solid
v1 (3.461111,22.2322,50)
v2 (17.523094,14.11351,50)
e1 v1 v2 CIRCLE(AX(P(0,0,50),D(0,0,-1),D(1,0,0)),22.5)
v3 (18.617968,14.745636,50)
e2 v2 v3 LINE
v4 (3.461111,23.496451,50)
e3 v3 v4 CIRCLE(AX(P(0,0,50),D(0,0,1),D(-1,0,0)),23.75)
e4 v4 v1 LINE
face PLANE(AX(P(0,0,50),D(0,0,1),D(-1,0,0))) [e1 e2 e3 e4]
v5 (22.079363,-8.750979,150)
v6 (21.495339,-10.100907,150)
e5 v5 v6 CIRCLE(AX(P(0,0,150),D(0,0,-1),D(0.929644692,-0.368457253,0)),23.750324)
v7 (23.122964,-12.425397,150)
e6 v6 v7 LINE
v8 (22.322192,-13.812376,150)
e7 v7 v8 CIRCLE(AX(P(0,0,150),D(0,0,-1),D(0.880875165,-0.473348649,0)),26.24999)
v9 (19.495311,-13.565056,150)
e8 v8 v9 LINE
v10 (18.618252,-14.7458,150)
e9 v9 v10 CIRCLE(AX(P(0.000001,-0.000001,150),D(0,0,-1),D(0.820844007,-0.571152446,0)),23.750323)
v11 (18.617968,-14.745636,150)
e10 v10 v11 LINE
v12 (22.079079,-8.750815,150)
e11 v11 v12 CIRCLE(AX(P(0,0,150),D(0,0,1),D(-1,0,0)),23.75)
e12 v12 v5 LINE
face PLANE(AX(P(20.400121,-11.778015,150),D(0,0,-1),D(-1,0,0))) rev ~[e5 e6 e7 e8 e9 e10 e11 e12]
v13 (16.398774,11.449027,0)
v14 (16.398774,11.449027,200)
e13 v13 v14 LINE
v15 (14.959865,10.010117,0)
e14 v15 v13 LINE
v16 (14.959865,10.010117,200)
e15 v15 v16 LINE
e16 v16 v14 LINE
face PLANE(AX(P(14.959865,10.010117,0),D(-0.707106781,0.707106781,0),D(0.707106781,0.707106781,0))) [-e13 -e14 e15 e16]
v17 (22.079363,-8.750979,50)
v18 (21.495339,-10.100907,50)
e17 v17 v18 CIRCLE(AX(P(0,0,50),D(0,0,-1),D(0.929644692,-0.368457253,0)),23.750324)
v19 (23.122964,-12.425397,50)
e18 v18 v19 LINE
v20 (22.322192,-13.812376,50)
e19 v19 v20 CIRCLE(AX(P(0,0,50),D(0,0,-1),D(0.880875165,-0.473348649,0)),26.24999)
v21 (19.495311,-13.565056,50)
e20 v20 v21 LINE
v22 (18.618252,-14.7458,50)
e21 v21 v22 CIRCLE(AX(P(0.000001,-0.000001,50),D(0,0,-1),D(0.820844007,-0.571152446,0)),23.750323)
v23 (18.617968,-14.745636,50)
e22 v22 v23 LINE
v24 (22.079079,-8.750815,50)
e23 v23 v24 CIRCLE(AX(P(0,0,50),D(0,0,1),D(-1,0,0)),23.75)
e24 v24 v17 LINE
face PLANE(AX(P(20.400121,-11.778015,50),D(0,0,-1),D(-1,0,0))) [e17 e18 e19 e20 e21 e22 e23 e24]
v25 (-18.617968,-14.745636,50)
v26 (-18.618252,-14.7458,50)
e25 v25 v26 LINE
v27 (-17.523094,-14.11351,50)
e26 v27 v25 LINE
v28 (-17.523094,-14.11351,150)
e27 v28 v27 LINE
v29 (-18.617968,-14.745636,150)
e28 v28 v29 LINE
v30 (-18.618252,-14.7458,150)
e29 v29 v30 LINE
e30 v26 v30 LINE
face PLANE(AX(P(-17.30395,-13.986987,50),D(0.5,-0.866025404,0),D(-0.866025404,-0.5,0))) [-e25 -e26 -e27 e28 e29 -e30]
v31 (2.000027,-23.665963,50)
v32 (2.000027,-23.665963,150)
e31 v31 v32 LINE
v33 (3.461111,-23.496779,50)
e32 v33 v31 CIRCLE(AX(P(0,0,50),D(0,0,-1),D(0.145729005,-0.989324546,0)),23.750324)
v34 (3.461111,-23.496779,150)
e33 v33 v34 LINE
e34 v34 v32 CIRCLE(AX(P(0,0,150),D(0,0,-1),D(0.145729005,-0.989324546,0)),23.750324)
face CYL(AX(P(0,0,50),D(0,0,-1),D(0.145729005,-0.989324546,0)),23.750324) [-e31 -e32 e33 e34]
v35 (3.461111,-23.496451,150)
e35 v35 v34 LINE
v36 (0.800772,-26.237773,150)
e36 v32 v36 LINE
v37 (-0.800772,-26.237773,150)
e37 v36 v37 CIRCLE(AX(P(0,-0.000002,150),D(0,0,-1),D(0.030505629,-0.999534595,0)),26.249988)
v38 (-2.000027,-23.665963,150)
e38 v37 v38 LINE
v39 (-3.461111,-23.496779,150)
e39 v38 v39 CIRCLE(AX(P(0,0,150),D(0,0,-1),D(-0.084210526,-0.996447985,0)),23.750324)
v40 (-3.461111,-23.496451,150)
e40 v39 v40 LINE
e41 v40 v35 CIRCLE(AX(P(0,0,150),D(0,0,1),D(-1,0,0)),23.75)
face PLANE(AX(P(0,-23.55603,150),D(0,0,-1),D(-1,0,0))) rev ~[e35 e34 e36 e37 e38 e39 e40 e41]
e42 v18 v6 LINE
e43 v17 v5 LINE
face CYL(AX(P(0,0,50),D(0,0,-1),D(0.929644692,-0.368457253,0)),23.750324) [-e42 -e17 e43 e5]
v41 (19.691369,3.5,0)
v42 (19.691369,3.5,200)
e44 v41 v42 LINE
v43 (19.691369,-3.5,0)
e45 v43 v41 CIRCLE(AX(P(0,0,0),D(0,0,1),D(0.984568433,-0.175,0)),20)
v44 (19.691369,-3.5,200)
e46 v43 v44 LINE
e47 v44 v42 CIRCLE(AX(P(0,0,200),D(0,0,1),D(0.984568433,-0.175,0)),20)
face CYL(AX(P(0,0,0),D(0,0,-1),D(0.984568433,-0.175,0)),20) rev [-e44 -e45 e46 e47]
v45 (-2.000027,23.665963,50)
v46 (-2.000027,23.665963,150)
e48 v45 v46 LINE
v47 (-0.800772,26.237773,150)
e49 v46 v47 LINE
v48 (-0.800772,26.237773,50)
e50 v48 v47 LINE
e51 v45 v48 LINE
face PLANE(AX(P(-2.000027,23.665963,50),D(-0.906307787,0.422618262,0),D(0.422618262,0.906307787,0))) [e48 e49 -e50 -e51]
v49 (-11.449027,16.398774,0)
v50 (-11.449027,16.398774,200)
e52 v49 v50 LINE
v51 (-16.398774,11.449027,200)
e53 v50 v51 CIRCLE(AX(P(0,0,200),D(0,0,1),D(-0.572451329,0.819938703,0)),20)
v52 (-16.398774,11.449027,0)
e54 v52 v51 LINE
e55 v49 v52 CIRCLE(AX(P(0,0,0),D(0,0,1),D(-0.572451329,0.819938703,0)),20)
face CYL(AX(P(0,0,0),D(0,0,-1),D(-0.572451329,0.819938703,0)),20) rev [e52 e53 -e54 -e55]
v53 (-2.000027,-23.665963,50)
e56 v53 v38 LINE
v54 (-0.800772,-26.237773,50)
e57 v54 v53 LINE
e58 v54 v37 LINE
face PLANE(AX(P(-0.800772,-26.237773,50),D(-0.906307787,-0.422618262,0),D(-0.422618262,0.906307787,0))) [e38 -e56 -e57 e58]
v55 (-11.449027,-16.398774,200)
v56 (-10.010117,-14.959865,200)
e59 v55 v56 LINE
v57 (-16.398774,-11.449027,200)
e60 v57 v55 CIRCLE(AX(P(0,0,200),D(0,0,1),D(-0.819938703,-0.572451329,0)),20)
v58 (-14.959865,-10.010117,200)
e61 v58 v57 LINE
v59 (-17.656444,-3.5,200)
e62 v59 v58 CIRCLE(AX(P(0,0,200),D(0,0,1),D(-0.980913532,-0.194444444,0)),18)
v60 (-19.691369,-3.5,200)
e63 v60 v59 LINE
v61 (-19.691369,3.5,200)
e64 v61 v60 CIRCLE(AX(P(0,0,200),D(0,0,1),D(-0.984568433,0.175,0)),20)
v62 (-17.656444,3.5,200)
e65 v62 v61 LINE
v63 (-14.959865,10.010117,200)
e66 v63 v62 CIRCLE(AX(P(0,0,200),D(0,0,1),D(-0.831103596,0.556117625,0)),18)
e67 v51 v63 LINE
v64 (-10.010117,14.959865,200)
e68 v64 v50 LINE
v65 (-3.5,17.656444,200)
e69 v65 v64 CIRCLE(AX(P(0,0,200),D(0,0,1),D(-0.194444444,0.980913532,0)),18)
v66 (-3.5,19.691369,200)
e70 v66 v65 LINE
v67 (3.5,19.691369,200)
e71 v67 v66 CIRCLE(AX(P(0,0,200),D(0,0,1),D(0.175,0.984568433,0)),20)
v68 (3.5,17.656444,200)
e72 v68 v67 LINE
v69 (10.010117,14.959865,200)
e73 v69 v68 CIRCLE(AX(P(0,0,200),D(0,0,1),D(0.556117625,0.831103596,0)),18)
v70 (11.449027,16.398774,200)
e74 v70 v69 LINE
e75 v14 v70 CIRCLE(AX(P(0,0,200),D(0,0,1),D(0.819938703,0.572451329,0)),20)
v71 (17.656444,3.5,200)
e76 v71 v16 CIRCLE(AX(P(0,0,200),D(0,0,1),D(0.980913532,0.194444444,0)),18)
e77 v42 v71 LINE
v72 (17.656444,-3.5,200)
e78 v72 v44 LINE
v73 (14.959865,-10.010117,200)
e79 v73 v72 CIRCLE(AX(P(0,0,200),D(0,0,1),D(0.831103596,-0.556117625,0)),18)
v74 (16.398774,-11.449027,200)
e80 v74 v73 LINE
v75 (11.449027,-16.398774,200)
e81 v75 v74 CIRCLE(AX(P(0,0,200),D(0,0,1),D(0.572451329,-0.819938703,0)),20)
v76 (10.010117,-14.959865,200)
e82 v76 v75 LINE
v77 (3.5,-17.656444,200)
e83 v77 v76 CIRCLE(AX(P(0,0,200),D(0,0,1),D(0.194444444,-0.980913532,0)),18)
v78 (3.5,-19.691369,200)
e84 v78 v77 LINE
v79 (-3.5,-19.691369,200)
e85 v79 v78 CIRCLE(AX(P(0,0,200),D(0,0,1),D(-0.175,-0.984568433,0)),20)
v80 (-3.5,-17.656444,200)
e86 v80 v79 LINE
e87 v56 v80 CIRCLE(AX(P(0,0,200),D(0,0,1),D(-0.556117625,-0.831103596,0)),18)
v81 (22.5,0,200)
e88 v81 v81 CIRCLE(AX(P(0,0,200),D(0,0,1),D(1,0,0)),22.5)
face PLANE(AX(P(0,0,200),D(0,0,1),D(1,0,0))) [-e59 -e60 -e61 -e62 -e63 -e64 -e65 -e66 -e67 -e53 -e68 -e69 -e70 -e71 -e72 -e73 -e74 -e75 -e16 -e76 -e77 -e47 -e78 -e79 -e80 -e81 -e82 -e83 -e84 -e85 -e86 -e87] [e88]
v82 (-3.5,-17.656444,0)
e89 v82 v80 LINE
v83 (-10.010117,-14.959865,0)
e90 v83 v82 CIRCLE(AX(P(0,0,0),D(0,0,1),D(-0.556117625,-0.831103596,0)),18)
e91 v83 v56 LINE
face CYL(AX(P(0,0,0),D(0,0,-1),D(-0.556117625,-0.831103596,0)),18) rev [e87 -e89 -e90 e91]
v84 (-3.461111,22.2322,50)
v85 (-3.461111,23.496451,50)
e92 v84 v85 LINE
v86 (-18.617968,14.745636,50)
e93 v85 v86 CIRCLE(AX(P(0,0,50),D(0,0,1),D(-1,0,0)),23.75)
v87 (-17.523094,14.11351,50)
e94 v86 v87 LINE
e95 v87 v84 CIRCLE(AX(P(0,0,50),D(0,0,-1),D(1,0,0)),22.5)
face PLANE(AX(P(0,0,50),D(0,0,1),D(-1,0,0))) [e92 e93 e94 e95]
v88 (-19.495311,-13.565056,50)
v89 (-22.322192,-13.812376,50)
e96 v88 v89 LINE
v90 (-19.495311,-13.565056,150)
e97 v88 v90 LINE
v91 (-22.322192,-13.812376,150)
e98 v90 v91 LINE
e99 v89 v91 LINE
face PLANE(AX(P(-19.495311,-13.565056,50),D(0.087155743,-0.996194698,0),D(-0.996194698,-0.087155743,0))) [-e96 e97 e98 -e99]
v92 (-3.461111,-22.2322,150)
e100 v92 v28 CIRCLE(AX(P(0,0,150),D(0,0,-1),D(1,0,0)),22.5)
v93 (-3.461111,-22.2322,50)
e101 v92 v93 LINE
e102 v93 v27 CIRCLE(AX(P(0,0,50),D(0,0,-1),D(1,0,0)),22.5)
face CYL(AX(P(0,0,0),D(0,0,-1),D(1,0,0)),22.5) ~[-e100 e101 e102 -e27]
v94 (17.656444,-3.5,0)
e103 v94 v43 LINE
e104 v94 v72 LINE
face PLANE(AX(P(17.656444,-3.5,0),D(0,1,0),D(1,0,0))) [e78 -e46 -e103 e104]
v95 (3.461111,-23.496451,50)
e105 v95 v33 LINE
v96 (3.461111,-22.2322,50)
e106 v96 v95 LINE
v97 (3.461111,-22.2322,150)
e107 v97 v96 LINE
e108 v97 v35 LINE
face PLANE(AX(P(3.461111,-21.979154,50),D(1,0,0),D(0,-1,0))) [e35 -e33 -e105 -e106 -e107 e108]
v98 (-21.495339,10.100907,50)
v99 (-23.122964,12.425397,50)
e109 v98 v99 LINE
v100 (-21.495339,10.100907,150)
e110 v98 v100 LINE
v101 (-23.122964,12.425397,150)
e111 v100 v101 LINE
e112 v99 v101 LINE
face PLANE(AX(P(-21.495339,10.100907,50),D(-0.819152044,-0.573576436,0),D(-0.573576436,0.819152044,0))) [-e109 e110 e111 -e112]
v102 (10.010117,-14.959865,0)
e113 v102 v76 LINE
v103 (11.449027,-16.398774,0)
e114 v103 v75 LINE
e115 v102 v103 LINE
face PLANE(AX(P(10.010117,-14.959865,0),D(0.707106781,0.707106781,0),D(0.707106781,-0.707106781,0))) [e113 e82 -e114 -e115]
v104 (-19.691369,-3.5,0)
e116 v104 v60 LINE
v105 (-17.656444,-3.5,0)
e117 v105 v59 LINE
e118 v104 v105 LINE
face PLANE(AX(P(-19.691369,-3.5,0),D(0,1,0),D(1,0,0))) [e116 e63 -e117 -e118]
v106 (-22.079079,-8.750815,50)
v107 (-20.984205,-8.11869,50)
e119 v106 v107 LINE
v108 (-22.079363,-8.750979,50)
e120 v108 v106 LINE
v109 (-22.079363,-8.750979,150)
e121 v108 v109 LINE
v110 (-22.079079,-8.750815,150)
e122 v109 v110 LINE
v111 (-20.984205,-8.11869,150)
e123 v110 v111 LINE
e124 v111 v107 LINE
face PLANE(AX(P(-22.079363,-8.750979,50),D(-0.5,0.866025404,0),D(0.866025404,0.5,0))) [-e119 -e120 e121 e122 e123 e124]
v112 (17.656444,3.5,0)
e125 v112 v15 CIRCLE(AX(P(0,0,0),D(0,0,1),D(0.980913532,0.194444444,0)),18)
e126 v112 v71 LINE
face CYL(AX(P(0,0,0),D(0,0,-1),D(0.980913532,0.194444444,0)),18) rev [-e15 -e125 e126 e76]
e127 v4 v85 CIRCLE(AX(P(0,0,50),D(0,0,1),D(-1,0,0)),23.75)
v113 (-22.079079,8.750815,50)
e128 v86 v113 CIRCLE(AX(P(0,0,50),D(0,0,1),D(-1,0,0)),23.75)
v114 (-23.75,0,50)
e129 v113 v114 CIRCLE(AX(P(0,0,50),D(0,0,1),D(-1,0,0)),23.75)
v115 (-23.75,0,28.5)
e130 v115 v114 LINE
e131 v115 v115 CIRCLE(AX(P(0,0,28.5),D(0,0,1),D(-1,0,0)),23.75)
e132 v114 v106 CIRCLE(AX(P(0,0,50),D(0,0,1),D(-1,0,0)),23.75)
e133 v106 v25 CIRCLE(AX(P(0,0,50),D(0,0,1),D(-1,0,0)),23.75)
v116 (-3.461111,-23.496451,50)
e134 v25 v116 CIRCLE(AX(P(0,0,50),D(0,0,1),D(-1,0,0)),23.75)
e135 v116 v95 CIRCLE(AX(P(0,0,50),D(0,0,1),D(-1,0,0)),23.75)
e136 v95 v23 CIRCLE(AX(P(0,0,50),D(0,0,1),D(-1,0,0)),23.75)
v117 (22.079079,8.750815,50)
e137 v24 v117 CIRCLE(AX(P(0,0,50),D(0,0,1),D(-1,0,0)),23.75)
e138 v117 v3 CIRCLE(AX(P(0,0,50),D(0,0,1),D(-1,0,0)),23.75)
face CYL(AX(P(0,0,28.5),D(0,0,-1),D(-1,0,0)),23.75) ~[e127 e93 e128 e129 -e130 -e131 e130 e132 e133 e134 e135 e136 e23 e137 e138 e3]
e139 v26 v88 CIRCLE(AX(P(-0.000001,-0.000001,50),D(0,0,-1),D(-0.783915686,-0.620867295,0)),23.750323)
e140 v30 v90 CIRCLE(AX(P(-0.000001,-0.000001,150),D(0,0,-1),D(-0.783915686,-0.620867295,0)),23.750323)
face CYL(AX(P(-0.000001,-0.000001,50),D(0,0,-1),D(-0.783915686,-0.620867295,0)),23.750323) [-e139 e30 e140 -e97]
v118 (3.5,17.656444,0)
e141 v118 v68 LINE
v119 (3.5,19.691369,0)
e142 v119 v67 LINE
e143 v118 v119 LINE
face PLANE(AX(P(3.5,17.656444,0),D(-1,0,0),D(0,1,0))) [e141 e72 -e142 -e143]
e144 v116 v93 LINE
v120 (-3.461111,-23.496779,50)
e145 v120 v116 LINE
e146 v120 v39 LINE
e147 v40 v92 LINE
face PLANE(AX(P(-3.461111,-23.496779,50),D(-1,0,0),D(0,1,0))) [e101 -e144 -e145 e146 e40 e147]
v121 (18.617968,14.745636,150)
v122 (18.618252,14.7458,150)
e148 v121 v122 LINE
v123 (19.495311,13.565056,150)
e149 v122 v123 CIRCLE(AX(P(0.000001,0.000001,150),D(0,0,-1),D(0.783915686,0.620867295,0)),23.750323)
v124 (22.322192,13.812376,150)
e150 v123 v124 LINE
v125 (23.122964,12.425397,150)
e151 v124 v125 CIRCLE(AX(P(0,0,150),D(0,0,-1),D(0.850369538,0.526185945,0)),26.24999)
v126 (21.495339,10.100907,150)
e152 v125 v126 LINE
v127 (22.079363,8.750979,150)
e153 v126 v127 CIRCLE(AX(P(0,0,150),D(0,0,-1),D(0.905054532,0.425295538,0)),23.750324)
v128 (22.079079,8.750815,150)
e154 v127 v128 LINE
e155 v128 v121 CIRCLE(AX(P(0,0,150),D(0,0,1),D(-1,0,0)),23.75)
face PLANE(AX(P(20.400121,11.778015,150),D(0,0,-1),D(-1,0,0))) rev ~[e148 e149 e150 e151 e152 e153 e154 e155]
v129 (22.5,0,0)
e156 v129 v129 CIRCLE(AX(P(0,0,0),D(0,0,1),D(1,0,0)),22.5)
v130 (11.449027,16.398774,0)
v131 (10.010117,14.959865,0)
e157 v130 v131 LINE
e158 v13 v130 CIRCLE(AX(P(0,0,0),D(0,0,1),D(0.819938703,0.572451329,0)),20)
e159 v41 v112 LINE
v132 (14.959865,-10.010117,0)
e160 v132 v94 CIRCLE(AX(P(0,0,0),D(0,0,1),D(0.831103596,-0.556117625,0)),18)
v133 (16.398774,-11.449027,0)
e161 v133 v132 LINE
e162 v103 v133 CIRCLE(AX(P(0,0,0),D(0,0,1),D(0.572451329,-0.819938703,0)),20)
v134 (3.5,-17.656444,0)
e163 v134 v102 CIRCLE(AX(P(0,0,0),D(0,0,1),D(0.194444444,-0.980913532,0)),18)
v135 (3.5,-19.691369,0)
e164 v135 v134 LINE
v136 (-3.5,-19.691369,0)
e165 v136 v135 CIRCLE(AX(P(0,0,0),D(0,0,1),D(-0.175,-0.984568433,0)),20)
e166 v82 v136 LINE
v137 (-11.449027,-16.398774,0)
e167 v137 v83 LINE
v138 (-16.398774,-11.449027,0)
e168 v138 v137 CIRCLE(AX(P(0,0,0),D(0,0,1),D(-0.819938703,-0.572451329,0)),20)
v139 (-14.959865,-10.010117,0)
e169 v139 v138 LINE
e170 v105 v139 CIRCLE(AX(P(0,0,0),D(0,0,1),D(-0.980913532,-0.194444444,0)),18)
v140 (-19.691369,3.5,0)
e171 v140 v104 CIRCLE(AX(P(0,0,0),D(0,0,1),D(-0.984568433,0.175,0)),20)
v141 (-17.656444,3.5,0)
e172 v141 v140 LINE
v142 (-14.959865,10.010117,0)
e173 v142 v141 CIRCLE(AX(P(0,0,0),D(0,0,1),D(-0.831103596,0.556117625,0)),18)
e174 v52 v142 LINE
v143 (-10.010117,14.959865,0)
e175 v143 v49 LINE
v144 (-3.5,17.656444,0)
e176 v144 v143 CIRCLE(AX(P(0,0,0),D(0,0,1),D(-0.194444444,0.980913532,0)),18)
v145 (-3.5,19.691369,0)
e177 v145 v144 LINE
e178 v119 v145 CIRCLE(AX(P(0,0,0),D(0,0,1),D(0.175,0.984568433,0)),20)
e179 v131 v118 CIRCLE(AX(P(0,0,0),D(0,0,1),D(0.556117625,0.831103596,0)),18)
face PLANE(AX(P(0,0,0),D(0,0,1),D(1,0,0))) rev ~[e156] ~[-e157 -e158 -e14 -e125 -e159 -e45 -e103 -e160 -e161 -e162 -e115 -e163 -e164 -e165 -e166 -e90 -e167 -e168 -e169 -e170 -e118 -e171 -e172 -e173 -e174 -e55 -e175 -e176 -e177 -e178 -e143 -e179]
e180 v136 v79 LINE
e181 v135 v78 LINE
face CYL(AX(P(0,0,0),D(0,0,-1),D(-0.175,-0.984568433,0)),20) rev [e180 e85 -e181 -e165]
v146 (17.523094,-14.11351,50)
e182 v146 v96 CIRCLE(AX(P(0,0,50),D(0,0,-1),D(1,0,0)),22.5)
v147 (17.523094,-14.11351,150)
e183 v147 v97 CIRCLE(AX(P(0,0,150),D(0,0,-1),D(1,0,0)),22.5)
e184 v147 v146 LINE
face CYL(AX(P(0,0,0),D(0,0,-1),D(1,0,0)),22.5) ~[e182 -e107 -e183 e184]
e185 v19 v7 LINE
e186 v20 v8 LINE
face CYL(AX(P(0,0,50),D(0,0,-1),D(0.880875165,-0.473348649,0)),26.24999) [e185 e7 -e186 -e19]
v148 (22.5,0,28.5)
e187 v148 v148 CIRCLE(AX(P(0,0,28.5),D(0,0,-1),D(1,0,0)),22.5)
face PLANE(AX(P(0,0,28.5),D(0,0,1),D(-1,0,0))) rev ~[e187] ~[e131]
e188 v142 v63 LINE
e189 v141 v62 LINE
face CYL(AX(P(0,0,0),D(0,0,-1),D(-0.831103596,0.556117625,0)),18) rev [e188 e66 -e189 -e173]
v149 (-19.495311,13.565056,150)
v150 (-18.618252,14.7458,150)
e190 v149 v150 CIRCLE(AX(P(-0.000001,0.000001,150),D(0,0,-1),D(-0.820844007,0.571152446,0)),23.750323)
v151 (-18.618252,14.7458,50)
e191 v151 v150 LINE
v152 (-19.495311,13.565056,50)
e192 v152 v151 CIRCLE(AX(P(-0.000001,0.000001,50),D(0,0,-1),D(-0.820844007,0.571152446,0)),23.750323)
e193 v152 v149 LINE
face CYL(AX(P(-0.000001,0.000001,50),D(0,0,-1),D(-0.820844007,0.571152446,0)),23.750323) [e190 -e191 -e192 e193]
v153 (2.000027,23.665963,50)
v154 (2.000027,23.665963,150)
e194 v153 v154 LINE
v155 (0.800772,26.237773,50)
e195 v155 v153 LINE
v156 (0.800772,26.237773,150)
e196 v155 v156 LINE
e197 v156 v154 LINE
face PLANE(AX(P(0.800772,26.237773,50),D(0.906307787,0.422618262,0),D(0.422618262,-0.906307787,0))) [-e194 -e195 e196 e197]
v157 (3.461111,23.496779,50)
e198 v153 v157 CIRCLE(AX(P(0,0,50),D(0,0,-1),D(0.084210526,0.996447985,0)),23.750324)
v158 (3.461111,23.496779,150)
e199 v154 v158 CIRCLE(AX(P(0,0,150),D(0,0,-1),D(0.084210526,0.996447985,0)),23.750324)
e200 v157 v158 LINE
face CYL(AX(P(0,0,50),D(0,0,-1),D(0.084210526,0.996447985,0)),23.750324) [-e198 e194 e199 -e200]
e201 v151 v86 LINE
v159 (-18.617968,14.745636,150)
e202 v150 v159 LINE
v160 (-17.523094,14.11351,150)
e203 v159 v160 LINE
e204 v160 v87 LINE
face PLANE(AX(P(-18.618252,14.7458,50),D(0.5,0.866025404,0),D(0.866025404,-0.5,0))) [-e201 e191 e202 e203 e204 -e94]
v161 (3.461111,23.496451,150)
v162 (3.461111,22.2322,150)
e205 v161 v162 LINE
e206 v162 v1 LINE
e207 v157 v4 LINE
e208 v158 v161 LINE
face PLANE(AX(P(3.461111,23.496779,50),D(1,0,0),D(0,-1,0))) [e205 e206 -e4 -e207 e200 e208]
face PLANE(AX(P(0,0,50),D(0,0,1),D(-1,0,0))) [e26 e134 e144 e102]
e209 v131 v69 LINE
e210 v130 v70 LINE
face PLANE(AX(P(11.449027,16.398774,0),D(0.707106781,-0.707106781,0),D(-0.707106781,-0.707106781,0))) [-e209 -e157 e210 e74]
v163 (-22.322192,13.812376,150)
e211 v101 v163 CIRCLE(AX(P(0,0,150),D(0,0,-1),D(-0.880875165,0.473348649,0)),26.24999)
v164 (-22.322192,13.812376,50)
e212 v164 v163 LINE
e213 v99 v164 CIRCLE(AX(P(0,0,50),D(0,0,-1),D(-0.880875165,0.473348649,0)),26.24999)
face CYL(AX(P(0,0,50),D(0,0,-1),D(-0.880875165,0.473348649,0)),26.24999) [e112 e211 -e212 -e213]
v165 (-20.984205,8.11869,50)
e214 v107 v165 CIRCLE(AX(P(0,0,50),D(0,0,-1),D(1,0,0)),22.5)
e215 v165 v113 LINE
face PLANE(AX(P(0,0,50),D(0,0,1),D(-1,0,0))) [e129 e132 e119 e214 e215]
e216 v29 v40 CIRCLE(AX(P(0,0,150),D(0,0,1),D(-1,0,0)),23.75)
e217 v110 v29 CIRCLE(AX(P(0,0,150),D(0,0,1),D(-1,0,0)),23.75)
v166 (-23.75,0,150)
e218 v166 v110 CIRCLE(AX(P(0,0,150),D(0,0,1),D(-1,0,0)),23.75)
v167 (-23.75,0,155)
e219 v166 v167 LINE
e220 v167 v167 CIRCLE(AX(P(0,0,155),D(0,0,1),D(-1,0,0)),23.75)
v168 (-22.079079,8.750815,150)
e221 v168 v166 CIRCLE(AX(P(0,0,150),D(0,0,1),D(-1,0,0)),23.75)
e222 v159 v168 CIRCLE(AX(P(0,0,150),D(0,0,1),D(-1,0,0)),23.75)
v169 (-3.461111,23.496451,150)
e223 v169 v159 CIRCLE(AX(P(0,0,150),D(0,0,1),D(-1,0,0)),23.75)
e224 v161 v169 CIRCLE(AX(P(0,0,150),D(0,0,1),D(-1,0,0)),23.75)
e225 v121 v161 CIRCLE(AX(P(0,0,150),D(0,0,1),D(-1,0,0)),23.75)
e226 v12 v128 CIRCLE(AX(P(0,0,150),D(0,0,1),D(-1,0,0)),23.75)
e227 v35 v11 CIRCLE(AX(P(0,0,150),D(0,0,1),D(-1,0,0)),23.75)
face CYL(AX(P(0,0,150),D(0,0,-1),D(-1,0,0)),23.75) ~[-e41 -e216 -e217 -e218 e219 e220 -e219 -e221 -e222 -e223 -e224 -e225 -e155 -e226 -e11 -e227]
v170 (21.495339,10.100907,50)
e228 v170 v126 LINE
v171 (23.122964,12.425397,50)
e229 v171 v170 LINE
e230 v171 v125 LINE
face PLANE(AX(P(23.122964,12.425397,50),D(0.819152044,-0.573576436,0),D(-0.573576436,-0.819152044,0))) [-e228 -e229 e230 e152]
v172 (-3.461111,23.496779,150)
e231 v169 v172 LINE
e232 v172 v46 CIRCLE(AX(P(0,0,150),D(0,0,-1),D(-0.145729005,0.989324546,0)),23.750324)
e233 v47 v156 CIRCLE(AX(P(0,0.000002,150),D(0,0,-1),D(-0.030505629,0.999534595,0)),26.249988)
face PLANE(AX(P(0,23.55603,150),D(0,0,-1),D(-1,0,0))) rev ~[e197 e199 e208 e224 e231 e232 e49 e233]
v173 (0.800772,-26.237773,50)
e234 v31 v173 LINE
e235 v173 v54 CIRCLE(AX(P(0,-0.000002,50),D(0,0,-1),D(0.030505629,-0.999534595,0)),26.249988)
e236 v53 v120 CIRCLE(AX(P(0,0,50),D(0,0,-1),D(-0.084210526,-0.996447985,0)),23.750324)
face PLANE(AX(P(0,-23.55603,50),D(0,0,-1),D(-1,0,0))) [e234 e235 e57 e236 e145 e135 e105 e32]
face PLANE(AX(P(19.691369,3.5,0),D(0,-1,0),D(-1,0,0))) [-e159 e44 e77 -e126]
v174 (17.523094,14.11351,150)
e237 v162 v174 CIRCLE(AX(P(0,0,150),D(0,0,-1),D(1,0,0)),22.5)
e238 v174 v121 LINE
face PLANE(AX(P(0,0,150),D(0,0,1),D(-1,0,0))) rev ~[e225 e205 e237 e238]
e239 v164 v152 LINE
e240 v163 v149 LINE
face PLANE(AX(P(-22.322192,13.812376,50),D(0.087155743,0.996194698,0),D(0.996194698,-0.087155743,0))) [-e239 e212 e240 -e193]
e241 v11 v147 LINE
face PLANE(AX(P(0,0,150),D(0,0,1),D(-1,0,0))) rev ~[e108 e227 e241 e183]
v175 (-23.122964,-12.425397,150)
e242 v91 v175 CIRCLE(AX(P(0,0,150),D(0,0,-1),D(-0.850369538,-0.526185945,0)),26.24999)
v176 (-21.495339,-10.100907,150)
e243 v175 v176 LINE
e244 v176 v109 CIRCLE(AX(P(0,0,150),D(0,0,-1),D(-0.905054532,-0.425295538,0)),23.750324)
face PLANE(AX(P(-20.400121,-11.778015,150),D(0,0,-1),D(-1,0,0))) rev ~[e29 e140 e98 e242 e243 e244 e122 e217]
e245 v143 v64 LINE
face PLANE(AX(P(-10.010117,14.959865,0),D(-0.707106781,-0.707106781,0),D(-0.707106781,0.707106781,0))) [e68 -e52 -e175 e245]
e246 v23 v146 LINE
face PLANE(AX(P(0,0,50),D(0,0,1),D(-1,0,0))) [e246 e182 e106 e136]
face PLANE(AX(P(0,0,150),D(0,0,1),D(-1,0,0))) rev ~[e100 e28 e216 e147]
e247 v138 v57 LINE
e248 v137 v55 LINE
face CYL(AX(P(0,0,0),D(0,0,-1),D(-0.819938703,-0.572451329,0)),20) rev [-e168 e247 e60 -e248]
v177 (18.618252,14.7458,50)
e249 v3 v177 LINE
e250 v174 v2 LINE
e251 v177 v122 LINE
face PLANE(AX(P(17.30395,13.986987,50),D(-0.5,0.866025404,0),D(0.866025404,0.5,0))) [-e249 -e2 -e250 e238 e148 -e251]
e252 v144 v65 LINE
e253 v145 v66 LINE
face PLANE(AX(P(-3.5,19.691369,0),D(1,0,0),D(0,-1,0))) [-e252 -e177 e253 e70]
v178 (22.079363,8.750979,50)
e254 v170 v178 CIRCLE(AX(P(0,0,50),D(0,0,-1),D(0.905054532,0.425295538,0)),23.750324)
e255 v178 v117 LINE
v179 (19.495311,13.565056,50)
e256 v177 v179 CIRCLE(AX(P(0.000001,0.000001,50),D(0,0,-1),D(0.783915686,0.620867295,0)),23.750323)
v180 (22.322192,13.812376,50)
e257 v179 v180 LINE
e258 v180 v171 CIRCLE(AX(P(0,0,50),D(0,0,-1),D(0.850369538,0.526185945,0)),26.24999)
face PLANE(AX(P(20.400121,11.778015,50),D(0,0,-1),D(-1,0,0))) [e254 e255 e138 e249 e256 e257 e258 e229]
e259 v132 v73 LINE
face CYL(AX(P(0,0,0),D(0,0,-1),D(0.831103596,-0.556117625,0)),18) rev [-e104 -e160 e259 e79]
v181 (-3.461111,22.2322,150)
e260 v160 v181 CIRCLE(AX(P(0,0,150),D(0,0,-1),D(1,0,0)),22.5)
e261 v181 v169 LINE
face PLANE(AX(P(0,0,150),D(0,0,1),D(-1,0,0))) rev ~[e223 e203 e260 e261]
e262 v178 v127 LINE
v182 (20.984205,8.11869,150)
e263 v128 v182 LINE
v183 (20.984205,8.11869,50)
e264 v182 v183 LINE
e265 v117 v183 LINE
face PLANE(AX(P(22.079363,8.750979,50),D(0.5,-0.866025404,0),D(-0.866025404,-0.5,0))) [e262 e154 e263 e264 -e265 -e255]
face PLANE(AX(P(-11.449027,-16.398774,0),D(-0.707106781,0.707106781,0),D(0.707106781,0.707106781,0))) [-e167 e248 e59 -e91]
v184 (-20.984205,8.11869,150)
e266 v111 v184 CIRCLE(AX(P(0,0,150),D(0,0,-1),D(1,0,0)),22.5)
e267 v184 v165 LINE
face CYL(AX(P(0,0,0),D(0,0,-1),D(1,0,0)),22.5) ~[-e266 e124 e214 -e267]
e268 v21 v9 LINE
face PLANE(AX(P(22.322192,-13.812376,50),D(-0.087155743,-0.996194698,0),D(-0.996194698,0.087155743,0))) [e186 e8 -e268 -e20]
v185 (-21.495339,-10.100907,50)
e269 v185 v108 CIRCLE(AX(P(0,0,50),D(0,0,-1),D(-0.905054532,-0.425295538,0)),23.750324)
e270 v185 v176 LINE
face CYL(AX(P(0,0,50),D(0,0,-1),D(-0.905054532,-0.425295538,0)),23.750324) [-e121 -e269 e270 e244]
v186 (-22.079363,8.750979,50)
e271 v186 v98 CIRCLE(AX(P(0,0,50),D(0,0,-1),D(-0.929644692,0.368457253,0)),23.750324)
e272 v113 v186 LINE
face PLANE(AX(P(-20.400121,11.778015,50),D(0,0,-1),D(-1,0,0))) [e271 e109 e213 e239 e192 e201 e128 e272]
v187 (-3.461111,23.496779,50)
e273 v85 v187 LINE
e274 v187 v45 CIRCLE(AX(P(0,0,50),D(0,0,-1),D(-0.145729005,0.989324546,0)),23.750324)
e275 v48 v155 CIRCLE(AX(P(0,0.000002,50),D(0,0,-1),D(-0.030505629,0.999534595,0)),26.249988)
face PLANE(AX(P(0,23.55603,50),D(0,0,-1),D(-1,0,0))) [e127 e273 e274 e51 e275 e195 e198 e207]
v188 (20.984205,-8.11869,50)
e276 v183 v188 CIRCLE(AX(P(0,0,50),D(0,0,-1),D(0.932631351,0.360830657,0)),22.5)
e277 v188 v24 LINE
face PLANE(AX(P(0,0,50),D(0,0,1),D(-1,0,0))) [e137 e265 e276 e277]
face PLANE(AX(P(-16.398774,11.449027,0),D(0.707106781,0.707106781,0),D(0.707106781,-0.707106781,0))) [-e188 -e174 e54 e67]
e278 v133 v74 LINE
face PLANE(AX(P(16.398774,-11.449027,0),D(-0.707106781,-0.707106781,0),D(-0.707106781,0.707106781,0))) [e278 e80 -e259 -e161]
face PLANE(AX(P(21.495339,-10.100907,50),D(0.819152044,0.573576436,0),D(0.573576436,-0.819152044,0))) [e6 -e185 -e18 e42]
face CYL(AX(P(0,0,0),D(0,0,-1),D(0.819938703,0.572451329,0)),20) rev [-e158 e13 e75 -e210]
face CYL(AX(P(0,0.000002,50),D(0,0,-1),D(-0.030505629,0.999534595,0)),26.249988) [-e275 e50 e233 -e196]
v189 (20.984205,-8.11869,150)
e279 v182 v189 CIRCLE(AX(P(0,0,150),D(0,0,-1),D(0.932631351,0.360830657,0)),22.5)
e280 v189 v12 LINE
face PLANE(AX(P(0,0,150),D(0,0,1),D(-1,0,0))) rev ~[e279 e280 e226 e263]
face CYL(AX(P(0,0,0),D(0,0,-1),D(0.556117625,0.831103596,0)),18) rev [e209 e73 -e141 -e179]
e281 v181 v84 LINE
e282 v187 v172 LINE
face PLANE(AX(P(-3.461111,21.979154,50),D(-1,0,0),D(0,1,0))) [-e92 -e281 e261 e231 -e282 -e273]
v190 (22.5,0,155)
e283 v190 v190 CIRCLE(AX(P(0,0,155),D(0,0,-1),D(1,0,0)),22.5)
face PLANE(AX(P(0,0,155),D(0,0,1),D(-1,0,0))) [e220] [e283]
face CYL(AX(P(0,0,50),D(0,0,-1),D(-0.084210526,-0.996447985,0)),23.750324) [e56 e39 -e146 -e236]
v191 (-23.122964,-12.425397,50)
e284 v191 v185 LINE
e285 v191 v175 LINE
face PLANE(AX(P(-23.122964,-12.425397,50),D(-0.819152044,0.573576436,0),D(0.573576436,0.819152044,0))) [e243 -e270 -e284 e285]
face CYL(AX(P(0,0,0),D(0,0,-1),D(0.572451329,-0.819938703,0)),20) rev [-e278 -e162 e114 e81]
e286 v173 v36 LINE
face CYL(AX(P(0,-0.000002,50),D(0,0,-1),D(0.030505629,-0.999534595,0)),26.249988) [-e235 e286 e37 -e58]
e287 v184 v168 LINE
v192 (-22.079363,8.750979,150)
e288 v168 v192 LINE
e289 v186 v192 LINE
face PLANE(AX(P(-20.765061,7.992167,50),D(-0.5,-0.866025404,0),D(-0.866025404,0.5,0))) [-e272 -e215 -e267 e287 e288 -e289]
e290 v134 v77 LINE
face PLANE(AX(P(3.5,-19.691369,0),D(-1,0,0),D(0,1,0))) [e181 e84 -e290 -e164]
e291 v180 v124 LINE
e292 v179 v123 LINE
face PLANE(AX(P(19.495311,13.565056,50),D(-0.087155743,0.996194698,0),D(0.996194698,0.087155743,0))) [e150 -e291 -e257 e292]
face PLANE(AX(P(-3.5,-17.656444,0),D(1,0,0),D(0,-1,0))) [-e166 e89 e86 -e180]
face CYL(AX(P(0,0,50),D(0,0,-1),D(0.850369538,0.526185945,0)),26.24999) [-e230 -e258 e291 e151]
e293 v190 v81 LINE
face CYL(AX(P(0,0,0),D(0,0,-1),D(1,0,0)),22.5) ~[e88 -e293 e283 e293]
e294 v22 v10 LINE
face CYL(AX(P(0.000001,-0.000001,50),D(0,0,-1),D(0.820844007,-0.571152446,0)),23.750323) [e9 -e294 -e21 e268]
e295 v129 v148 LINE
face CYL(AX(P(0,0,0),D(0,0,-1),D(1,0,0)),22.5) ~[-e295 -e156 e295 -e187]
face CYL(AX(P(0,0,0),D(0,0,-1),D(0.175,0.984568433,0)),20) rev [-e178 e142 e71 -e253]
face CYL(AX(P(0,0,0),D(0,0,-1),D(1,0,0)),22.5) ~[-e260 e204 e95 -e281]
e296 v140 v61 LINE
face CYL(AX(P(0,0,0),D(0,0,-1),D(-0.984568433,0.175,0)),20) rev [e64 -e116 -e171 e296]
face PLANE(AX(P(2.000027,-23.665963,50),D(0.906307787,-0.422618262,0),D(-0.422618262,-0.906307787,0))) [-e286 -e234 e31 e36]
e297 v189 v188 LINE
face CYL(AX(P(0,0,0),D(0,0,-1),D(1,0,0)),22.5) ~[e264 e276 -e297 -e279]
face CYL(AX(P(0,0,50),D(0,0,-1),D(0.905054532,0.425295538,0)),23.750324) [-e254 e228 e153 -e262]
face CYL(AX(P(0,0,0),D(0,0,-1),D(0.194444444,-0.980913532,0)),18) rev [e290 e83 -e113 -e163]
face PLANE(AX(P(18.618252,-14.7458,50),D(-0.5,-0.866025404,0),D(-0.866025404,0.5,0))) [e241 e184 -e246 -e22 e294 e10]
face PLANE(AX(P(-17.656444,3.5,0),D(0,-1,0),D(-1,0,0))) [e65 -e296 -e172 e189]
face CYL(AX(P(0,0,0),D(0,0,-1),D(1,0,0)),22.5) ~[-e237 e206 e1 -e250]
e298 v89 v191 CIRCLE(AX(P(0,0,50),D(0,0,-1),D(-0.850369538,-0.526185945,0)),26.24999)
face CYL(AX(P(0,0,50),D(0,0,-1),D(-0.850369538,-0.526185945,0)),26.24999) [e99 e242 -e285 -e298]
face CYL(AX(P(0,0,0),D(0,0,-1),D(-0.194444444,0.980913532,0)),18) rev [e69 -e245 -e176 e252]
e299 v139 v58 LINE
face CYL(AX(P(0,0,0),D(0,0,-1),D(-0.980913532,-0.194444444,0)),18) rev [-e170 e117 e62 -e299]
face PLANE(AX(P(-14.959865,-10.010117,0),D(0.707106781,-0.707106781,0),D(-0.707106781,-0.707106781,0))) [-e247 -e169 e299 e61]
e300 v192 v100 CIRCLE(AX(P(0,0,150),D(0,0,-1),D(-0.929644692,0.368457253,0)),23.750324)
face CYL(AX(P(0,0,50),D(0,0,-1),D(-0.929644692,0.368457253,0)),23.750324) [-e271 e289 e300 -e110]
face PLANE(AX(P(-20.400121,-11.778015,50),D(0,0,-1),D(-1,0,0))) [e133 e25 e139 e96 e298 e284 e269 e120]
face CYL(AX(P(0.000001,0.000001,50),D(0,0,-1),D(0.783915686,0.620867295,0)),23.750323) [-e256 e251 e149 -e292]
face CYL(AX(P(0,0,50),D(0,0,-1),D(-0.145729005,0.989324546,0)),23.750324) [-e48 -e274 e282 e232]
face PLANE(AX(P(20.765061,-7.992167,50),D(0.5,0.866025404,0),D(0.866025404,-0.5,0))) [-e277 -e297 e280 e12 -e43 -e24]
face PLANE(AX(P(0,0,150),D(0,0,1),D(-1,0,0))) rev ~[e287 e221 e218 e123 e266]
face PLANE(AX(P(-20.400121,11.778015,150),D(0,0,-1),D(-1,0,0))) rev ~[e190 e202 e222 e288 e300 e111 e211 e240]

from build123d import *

# Parameters (mm, degrees)
SKETCH1_R           = 22.5
BOSS_EXTRUDE1_DEPTH = 200
BOSS_EXTRUDE2_START = 50
BOSS_EXTRUDE2_DEPTH = 100
BOSS_EXTRUDE3_START = -50
SKETCH4_R           = 23.75
SKETCH4_R_2         = 22.25
BOSS_EXTRUDE3_DEPTH = 5
BOSS_EXTRUDE4_START = -171.5
SKETCH4_2_R         = 23.75
SKETCH4_2_R_2       = 22.25
BOSS_EXTRUDE4_DEPTH = 21.5


with BuildPart() as part:
    # Sketch1 → Boss-Extrude1 (new body)
    with BuildSketch(Plane.XY):
        Circle(SKETCH1_R)
        with BuildLine():
            Line((-3.5, 19.691368668), (-3.5, 17.656443583))
            ThreePointArc((-3.5, 17.656443583), (-6.888301783, 16.629831585), (-10.010117255, 14.959864723))
            Line((-10.010117255, 14.959864723), (-11.449026581, 16.39877405))
            ThreePointArc((-11.449026581, 16.39877405), (-14.142135624, 14.142135624), (-16.39877405, 11.449026581))
            Line((-16.39877405, 11.449026581), (-14.959864723, 10.010117255))
            ThreePointArc((-14.959864723, 10.010117255), (-16.629831585, 6.888301783), (-17.656443583, 3.5))
            Line((-17.656443583, 3.5), (-19.691368668, 3.5))
            ThreePointArc((-19.691368668, 3.5), (-20, 0), (-19.691368668, -3.5))
            Line((-19.691368668, -3.5), (-17.656443583, -3.5))
            ThreePointArc((-17.656443583, -3.5), (-16.629831585, -6.888301783), (-14.959864723, -10.010117255))
            Line((-14.959864723, -10.010117255), (-16.39877405, -11.449026581))
            ThreePointArc((-16.39877405, -11.449026581), (-14.142135624, -14.142135624), (-11.449026581, -16.39877405))
            Line((-11.449026581, -16.39877405), (-10.010117255, -14.959864723))
            ThreePointArc((-10.010117255, -14.959864723), (-6.888301783, -16.629831585), (-3.5, -17.656443583))
            Line((-3.5, -17.656443583), (-3.5, -19.691368668))
            ThreePointArc((-3.5, -19.691368668), (0, -20), (3.5, -19.691368668))
            Line((3.5, -19.691368668), (3.5, -17.656443583))
            ThreePointArc((3.5, -17.656443583), (6.888301783, -16.629831585), (10.010117255, -14.959864723))
            Line((10.010117255, -14.959864723), (11.449026581, -16.39877405))
            ThreePointArc((11.449026581, -16.39877405), (14.142135624, -14.142135624), (16.39877405, -11.449026581))
            Line((16.39877405, -11.449026581), (14.959864723, -10.010117255))
            ThreePointArc((14.959864723, -10.010117255), (16.629831585, -6.888301783), (17.656443583, -3.5))
            Line((17.656443583, -3.5), (19.691368668, -3.5))
            ThreePointArc((19.691368668, -3.5), (20, 0), (19.691368668, 3.5))
            Line((19.691368668, 3.5), (17.656443583, 3.5))
            ThreePointArc((17.656443583, 3.5), (16.629831585, 6.888301783), (14.959864723, 10.010117255))
            Line((14.959864723, 10.010117255), (16.39877405, 11.449026581))
            ThreePointArc((16.39877405, 11.449026581), (14.142135624, 14.142135624), (11.449026581, 16.39877405))
            Line((11.449026581, 16.39877405), (10.010117255, 14.959864723))
            ThreePointArc((10.010117255, 14.959864723), (6.888301783, 16.629831585), (3.5, 17.656443583))
            Line((3.5, 17.656443583), (3.5, 19.691368668))
            ThreePointArc((3.5, 19.691368668), (0, 20), (-3.5, 19.691368668))
        make_face(mode=Mode.SUBTRACT)
    extrude(amount=BOSS_EXTRUDE1_DEPTH)

    # Sketch3 → Boss-Extrude2 (add)
    with BuildSketch(Plane.XY.offset(BOSS_EXTRUDE2_START)):
        with BuildLine():
            Line((-2.000027302, 23.665962711), (-0.80077241, 26.237773126))
            ThreePointArc((-0.80077241, 26.237773126), (0, 26.249990002), (0.80077241, 26.237773126))
            Line((0.80077241, 26.237773126), (2.000027302, 23.665962711))
            ThreePointArc((2.000027302, 23.665962711), (2.731879206, 23.592683956), (3.461111111, 23.496778718))
            Line((3.461111111, 23.496778718), (3.461111111, 21.979153985))
            ThreePointArc((3.461111111, 21.979153985), (0, 22.25), (-3.461111111, 21.979153985))
            Line((-3.461111111, 21.979153985), (-3.461111111, 23.496778718))
            ThreePointArc((-3.461111111, 23.496778718), (-2.731879206, 23.592683956), (-2.000027302, 23.665962711))
        make_face()
        with BuildLine():
            Line((17.303950149, 13.98698714), (18.618251721, 14.745799506))
            ThreePointArc((18.618251721, 14.745799506), (19.065924046, 14.162218771), (19.495311261, 13.565055807))
            Line((19.495311261, 13.565055807), (22.322191861, 13.812375813))
            ThreePointArc((22.322191861, 13.812375813), (22.73315819, 13.124995001), (23.122964271, 12.425397313))
            Line((23.122964271, 12.425397313), (21.495338563, 10.100906903))
            ThreePointArc((21.495338563, 10.100906903), (21.797803252, 9.430465185), (22.079362832, 8.750979211))
            Line((22.079362832, 8.750979211), (20.76506126, 7.992166845))
            ThreePointArc((20.76506126, 7.992166845), (19.269065234, 11.125), (17.303950149, 13.98698714))
        make_face()
        with BuildLine():
            Line((20.76506126, -7.992166845), (22.079362832, -8.750979211))
            ThreePointArc((22.079362832, -8.750979211), (21.797803252, -9.430465185), (21.495338563, -10.100906903))
            Line((21.495338563, -10.100906903), (23.122964271, -12.425397313))
            ThreePointArc((23.122964271, -12.425397313), (22.73315819, -13.124995001), (22.322191861, -13.812375813))
            Line((22.322191861, -13.812375813), (19.495311261, -13.565055807))
            ThreePointArc((19.495311261, -13.565055807), (19.065924046, -14.162218771), (18.618251721, -14.745799506))
            Line((18.618251721, -14.745799506), (17.303950149, -13.98698714))
            ThreePointArc((17.303950149, -13.98698714), (19.269065234, -11.125), (20.76506126, -7.992166845))
        make_face()
        with BuildLine():
            Line((3.461111111, -21.979153985), (3.461111111, -23.496778718))
            ThreePointArc((3.461111111, -23.496778718), (2.731879206, -23.592683956), (2.000027302, -23.665962711))
            Line((2.000027302, -23.665962711), (0.80077241, -26.237773126))
            ThreePointArc((0.80077241, -26.237773126), (0, -26.249990002), (-0.80077241, -26.237773126))
            Line((-0.80077241, -26.237773126), (-2.000027302, -23.665962711))
            ThreePointArc((-2.000027302, -23.665962711), (-2.731879206, -23.592683956), (-3.461111111, -23.496778718))
            Line((-3.461111111, -23.496778718), (-3.461111111, -21.979153985))
            ThreePointArc((-3.461111111, -21.979153985), (0, -22.25), (3.461111111, -21.979153985))
        make_face()
        with BuildLine():
            Line((-17.303950149, -13.98698714), (-18.618251721, -14.745799506))
            ThreePointArc((-18.618251721, -14.745799506), (-19.065924046, -14.162218771), (-19.495311261, -13.565055807))
            Line((-19.495311261, -13.565055807), (-22.322191861, -13.812375813))
            ThreePointArc((-22.322191861, -13.812375813), (-22.73315819, -13.124995001), (-23.122964271, -12.425397313))
            Line((-23.122964271, -12.425397313), (-21.495338563, -10.100906903))
            ThreePointArc((-21.495338563, -10.100906903), (-21.797803252, -9.430465185), (-22.079362832, -8.750979211))
            Line((-22.079362832, -8.750979211), (-20.76506126, -7.992166845))
            ThreePointArc((-20.76506126, -7.992166845), (-19.269065234, -11.125), (-17.303950149, -13.98698714))
        make_face()
        with BuildLine():
            Line((-20.76506126, 7.992166845), (-22.079362832, 8.750979211))
            ThreePointArc((-22.079362832, 8.750979211), (-21.797803252, 9.430465185), (-21.495338563, 10.100906903))
            Line((-21.495338563, 10.100906903), (-23.122964271, 12.425397313))
            ThreePointArc((-23.122964271, 12.425397313), (-22.73315819, 13.124995001), (-22.322191861, 13.812375813))
            Line((-22.322191861, 13.812375813), (-19.495311261, 13.565055807))
            ThreePointArc((-19.495311261, 13.565055807), (-19.065924046, 14.162218771), (-18.618251721, 14.745799506))
            Line((-18.618251721, 14.745799506), (-17.303950149, 13.98698714))
            ThreePointArc((-17.303950149, 13.98698714), (-19.269065234, 11.125), (-20.76506126, 7.992166845))
        make_face()
    extrude(amount=BOSS_EXTRUDE2_DEPTH)

    # Sketch4 → Boss-Extrude3 (add)
    with BuildSketch(Plane.XY.offset(200).offset(BOSS_EXTRUDE3_START)):
        with Locations(Location((0, 0, 0), (0, 0, 180))):
            Circle(SKETCH4_R)
        Circle(SKETCH4_R_2, mode=Mode.SUBTRACT)
    extrude(amount=BOSS_EXTRUDE3_DEPTH)

    # Sketch4<2> → Boss-Extrude4 (add)
    with BuildSketch(Plane.XY.offset(200).offset(BOSS_EXTRUDE4_START)):
        with Locations(Location((0, 0, 0), (0, 0, 180))):
            Circle(SKETCH4_2_R)
        Circle(SKETCH4_2_R_2, mode=Mode.SUBTRACT)
    extrude(amount=BOSS_EXTRUDE4_DEPTH)


solid = part.part
